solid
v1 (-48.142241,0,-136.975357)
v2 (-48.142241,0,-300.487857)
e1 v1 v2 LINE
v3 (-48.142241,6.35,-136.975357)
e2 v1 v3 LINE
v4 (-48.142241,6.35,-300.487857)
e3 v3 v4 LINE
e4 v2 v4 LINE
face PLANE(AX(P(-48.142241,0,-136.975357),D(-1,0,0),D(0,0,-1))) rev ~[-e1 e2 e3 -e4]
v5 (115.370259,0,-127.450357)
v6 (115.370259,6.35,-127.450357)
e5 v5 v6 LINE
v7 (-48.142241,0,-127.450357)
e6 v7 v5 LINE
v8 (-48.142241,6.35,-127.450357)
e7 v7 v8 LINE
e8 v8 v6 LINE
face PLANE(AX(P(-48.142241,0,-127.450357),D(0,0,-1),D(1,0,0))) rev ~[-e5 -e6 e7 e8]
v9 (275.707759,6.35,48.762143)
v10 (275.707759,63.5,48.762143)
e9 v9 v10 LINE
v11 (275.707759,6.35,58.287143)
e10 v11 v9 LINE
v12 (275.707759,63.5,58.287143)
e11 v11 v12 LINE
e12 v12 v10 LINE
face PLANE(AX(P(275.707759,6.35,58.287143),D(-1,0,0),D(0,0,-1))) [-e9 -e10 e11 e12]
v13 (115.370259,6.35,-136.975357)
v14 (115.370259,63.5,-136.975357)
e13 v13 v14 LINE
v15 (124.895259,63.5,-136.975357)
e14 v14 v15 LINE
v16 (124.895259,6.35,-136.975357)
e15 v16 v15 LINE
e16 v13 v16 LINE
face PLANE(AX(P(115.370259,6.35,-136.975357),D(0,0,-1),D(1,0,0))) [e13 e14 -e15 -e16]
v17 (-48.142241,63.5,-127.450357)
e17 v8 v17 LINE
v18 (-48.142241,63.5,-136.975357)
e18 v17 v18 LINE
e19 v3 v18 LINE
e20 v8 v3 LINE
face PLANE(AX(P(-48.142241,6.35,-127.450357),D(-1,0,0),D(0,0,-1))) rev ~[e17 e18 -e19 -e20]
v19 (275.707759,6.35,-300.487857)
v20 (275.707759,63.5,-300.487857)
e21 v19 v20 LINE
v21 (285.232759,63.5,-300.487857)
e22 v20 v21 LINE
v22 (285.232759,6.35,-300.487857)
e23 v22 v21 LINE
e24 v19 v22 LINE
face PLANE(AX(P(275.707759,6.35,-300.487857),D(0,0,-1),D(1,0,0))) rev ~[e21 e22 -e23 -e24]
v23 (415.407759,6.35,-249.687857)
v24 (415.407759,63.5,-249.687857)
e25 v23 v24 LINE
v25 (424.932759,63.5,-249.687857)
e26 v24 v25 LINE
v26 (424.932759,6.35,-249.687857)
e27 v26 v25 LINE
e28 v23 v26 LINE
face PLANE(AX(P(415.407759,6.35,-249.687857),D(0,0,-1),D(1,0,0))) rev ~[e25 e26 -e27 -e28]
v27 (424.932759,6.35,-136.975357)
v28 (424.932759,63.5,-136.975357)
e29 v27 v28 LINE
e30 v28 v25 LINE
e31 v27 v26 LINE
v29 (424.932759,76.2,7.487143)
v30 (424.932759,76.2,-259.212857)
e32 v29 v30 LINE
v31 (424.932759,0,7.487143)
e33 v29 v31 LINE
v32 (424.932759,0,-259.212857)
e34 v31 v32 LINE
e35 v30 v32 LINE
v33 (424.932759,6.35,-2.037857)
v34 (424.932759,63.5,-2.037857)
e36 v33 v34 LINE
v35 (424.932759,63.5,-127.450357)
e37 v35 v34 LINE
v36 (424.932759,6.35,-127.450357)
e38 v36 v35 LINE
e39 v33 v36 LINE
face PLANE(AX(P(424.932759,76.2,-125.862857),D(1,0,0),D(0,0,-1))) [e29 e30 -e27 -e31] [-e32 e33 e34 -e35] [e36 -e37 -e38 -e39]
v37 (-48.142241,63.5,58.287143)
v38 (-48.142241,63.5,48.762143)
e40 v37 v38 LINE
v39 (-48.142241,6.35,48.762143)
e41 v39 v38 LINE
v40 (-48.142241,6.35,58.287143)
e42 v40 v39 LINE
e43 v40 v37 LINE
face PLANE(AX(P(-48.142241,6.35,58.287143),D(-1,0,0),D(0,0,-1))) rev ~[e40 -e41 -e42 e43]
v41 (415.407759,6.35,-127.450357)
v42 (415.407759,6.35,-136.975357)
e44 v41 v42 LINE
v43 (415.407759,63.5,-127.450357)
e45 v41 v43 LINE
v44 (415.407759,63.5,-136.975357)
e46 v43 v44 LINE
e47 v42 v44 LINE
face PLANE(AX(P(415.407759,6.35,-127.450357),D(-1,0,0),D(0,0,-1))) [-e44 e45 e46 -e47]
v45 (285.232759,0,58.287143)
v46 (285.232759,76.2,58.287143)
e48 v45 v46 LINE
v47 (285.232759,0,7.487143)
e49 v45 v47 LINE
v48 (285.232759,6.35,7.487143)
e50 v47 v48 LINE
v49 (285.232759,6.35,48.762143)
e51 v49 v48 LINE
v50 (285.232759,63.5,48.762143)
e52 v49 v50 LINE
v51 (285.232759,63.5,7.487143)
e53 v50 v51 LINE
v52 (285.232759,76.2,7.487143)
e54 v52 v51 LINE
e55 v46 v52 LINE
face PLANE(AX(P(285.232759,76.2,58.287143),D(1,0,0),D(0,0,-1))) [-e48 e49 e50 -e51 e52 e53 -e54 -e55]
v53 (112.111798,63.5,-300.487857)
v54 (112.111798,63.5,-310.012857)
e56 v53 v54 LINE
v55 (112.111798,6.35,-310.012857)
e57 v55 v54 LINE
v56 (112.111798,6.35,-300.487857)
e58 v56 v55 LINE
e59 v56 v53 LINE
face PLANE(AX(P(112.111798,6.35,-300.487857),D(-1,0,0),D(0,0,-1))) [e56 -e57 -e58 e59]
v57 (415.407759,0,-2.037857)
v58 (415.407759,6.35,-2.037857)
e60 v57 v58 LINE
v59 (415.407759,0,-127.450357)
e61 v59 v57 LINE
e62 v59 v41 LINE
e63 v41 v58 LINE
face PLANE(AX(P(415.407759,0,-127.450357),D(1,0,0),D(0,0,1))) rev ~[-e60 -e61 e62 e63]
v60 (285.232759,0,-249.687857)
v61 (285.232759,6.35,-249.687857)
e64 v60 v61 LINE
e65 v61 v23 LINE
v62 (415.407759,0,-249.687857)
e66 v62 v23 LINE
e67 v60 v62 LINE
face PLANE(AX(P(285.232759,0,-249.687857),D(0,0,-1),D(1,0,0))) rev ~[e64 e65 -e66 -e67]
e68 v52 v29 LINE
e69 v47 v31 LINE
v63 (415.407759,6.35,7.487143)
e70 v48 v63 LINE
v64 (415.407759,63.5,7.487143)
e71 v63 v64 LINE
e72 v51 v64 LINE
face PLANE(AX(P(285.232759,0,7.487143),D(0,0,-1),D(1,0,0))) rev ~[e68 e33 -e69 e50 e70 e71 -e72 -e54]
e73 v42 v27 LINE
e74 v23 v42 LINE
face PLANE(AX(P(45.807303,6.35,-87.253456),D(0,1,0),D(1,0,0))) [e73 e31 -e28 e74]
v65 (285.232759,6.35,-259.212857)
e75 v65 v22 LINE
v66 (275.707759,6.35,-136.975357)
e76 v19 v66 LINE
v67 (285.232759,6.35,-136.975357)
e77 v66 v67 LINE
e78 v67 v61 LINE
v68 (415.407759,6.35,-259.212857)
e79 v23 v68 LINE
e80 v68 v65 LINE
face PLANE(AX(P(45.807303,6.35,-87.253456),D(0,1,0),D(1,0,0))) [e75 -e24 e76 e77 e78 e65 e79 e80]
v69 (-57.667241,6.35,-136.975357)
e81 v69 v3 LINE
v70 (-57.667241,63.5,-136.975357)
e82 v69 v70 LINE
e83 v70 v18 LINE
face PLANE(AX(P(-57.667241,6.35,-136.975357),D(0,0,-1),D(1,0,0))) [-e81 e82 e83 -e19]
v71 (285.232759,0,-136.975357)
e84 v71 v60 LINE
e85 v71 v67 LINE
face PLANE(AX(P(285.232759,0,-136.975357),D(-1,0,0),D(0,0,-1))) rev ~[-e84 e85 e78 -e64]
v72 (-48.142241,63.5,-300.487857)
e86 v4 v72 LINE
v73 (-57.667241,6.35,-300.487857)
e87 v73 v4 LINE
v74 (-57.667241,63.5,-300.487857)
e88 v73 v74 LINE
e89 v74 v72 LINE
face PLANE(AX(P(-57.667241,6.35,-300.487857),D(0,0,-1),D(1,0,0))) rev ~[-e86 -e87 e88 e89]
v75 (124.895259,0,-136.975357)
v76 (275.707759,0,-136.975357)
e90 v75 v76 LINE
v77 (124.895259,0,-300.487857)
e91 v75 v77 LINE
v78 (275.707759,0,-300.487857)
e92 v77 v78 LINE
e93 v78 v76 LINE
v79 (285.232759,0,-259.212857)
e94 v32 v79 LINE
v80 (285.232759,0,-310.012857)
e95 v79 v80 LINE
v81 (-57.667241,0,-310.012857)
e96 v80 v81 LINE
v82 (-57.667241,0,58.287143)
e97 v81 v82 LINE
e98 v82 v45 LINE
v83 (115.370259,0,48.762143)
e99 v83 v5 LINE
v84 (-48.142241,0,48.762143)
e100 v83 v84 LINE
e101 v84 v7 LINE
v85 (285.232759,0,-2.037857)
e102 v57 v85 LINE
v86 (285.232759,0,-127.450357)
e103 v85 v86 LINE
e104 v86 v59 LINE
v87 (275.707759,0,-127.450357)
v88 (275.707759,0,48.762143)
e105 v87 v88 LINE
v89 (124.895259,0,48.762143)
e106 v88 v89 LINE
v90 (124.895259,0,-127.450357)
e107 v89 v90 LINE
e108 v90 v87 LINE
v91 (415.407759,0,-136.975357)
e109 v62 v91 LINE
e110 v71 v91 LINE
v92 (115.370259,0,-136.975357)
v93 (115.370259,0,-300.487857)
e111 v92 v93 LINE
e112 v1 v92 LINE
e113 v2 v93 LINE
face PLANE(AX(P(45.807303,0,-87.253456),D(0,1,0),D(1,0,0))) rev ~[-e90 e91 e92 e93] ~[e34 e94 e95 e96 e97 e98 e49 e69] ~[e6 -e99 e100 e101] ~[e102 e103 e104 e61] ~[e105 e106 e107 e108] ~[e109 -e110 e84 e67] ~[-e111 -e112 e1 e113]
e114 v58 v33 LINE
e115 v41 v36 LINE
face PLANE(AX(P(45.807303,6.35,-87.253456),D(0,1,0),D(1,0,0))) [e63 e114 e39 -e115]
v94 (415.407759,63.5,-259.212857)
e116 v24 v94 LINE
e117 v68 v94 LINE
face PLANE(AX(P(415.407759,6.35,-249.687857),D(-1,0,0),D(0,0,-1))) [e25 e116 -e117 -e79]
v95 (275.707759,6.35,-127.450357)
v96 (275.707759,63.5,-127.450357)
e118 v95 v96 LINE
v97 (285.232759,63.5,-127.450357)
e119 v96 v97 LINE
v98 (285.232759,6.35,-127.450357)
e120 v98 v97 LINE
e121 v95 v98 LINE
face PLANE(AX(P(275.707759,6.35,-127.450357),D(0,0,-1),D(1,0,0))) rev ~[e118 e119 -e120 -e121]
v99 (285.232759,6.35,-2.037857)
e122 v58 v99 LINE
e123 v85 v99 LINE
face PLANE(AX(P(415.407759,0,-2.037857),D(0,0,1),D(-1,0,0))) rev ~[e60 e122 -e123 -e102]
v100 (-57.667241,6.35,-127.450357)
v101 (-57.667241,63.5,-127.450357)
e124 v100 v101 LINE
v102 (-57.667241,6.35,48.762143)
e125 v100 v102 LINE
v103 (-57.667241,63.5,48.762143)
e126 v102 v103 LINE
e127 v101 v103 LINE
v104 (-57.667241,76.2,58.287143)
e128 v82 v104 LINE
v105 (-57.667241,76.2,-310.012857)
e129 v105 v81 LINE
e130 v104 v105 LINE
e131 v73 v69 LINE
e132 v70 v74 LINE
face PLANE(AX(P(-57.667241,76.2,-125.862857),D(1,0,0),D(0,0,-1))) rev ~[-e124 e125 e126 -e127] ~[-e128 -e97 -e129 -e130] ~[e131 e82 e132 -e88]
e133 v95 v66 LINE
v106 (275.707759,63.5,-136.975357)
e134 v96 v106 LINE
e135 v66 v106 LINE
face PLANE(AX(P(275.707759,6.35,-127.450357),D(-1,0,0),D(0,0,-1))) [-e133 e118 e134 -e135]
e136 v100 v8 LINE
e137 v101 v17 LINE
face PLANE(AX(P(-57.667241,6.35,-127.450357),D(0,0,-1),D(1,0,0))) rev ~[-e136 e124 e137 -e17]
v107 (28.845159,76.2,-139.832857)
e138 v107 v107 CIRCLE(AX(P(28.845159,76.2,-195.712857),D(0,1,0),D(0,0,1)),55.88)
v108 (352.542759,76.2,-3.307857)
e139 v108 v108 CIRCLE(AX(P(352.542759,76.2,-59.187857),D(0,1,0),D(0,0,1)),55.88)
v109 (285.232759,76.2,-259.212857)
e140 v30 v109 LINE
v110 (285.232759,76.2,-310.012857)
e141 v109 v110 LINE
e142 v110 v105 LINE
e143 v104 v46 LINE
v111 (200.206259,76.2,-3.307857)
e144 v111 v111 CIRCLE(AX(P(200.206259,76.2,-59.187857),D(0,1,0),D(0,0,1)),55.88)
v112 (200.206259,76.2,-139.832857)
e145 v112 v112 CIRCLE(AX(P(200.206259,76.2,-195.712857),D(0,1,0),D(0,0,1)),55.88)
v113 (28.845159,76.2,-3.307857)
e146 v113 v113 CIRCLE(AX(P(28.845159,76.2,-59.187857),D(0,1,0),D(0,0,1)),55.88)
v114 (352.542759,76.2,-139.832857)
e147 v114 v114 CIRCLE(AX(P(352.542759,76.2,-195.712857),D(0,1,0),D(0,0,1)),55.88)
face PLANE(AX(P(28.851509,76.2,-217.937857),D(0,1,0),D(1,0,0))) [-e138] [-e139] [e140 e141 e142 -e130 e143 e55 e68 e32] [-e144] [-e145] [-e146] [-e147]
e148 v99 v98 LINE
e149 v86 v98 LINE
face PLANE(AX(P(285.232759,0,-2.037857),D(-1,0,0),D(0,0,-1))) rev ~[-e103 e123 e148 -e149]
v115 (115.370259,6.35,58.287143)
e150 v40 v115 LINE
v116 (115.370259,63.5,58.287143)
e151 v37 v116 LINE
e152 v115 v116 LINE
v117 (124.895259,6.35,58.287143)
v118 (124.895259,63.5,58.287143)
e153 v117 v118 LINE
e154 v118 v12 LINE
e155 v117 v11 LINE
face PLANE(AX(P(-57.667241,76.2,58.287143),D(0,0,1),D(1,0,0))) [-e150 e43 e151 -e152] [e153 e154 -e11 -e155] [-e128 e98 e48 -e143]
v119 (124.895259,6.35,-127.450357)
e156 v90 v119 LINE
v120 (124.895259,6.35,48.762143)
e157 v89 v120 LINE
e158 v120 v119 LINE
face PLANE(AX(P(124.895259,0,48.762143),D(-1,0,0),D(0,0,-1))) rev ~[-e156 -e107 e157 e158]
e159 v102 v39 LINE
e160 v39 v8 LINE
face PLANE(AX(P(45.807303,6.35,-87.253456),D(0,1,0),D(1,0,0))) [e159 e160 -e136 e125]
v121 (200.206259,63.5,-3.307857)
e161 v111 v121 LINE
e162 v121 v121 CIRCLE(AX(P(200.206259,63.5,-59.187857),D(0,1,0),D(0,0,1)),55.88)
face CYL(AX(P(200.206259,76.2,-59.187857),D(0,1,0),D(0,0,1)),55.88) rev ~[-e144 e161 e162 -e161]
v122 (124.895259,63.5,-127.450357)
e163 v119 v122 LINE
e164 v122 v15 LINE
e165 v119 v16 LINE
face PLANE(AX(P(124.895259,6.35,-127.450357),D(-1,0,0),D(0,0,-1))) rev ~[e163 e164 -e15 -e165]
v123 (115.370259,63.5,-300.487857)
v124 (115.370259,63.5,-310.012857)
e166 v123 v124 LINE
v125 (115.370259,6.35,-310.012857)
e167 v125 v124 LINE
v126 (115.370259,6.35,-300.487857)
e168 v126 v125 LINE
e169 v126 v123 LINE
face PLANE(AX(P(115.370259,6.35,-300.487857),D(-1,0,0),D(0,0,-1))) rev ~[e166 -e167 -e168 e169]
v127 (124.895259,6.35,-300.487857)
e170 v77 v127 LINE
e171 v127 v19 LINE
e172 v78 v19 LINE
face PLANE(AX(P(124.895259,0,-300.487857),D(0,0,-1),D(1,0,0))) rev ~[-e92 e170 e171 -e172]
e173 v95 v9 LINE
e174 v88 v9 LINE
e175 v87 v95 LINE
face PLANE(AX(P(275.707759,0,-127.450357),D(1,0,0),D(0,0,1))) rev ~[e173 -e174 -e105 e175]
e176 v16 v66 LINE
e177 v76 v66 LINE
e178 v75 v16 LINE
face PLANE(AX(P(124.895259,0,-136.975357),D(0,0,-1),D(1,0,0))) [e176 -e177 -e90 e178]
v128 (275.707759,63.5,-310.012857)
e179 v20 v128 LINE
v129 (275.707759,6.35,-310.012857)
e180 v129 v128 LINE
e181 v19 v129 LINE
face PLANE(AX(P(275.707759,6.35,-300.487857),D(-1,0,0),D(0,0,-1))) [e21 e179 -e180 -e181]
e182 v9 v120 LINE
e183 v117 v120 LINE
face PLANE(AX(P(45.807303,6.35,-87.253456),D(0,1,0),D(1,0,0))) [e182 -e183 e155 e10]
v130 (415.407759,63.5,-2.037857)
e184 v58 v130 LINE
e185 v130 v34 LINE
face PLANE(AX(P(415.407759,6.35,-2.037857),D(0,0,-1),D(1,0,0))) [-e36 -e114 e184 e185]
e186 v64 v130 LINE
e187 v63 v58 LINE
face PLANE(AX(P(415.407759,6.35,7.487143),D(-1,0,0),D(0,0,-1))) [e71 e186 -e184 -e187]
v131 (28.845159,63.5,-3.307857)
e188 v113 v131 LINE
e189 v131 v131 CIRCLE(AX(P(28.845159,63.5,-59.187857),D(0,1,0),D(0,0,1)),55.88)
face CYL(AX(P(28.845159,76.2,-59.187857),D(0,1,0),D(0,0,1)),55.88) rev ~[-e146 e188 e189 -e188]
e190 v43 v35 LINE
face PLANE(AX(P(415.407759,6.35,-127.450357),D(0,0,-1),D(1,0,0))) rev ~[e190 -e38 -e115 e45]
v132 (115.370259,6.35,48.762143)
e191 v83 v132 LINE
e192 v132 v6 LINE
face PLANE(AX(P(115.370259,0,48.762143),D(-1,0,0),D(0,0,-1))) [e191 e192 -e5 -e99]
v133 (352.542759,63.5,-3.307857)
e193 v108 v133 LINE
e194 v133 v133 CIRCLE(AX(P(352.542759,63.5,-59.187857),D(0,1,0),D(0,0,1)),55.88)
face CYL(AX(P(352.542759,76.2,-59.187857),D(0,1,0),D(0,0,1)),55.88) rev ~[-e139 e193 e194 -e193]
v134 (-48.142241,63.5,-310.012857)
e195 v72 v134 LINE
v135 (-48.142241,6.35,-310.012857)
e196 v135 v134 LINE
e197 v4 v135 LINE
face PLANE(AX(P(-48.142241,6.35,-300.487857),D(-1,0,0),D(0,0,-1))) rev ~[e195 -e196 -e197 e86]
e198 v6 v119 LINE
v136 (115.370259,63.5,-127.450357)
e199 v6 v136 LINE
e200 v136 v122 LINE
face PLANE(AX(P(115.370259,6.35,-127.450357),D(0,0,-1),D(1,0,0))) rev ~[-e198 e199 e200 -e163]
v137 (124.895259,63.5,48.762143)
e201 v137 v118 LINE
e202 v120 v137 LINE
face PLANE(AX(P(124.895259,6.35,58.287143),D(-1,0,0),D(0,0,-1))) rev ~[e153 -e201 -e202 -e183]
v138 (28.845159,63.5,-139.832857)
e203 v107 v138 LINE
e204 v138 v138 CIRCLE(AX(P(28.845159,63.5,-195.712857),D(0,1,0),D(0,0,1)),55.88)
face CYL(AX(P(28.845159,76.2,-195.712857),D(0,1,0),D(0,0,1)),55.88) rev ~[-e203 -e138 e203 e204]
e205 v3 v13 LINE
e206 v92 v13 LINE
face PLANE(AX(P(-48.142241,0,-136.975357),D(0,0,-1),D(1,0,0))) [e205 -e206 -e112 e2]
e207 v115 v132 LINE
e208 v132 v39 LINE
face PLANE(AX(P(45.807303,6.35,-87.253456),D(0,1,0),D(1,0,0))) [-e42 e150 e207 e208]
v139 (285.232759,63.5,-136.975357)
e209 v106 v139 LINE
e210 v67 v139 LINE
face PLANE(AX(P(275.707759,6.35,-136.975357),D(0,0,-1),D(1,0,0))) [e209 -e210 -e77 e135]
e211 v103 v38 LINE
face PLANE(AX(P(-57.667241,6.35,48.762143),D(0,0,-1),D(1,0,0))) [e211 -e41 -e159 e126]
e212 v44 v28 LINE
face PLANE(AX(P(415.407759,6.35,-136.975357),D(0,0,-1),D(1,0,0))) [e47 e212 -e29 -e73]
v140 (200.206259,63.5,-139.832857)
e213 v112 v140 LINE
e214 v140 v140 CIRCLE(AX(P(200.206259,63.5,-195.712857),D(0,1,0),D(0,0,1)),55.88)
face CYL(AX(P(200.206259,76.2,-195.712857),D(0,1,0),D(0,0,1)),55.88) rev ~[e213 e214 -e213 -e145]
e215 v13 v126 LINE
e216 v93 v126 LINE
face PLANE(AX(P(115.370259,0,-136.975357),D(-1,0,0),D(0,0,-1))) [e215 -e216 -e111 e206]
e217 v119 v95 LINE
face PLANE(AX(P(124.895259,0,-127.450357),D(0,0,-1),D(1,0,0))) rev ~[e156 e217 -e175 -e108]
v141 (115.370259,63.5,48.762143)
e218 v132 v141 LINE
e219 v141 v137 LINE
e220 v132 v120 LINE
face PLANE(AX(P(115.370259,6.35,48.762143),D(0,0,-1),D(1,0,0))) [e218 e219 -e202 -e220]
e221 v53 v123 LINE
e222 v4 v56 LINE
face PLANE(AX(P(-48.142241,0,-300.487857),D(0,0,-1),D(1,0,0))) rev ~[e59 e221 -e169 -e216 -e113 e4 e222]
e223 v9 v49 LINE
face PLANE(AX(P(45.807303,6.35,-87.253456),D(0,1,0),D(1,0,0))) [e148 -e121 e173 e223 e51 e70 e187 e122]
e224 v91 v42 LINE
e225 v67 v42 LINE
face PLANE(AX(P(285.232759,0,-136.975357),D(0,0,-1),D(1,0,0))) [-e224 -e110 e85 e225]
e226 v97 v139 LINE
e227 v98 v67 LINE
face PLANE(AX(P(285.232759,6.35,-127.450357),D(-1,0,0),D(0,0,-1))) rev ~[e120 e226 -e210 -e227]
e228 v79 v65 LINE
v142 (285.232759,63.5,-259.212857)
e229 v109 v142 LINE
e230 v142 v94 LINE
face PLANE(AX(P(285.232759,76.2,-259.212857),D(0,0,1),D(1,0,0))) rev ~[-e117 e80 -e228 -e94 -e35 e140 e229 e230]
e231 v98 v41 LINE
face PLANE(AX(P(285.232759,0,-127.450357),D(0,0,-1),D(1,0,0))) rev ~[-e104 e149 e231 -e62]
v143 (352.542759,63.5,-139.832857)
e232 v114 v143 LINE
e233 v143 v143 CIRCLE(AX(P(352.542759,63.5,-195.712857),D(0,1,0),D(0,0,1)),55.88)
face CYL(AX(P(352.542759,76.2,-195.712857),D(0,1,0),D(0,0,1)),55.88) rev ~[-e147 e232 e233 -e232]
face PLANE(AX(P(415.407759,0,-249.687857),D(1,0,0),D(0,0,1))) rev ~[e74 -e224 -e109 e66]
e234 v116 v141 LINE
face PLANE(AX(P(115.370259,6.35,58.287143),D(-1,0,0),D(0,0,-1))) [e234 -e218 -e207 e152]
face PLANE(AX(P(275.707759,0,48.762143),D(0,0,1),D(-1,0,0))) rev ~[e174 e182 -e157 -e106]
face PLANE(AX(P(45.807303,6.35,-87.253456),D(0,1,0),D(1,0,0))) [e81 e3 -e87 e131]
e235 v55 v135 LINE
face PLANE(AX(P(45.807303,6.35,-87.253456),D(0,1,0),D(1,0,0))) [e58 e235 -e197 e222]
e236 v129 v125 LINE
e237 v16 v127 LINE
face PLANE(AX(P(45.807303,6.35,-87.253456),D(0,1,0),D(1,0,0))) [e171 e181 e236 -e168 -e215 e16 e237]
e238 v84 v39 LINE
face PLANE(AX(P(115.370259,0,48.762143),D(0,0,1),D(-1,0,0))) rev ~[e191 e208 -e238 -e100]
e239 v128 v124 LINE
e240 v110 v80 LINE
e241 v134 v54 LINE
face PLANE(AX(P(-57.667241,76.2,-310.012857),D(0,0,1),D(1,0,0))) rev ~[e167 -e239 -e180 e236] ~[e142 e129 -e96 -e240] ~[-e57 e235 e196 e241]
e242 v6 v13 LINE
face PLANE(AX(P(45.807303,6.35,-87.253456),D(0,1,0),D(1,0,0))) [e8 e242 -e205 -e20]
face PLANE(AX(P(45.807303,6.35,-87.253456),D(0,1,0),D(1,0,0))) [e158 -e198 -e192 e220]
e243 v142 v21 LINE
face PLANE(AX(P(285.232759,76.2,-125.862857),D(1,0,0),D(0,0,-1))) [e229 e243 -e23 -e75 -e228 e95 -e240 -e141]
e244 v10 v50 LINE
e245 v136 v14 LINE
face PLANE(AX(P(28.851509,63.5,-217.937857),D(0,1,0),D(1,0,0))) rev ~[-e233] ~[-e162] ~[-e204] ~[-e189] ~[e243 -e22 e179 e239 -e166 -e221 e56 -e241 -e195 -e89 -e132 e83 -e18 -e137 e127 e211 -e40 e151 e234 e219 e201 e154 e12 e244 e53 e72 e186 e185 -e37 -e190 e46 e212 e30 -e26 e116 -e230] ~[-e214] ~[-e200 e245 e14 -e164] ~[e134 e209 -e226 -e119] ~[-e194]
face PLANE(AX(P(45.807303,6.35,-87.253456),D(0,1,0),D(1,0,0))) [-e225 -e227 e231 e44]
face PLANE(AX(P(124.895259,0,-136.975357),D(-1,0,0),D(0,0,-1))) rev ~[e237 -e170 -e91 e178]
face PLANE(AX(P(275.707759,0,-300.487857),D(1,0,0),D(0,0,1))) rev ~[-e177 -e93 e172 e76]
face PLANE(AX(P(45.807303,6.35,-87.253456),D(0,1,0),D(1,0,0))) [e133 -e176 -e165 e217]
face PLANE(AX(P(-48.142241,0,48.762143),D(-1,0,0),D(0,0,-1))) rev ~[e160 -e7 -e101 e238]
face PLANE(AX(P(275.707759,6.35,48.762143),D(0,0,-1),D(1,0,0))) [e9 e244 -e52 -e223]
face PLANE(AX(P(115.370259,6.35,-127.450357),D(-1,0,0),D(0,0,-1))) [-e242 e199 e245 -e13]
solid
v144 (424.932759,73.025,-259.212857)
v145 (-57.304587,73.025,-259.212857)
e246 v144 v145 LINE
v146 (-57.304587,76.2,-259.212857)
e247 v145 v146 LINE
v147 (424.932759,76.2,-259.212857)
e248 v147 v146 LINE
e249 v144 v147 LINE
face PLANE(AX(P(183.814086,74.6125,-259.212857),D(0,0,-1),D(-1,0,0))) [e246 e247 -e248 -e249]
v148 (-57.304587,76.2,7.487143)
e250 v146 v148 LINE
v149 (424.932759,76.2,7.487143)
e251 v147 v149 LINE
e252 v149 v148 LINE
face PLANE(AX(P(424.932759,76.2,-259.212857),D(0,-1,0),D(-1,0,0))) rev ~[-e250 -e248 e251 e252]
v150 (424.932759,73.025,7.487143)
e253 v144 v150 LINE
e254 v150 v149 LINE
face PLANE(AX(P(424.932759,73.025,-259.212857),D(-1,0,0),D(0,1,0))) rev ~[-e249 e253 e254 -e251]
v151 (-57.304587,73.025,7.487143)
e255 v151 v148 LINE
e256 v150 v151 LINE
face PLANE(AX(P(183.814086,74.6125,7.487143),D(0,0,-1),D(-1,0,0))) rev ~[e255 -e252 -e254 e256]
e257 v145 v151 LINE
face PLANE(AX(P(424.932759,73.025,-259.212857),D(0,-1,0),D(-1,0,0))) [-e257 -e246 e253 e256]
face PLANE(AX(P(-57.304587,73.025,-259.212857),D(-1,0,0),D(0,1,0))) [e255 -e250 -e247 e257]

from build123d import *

# Parameters (mm, degrees)
SKETCH1_W           = 150.8125
SKETCH1_H           = 163.5125
SKETCH1_W_2         = 130.175
SKETCH1_H_2         = 125.4125
SKETCH1_H_3         = 112.7125
SKETCH1_W_3         = 163.5125
SKETCH1_H_4         = 176.2125
BOSS_EXTRUDE1_DEPTH = 6.35
SKETCH2_W           = 9.525
SKETCH2_H           = 9.525
SKETCH2_W_2         = 3.2584612
BOSS_EXTRUDE2_DEPTH = 69.85
SKETCH3_R           = 55.88
BOSS_EXTRUDE3_DEPTH = 12.7
SKETCH4_W           = 482.237345922
SKETCH4_H           = 3.175
BOSS_EXTRUDE4_DEPTH = 266.7


with BuildPart() as part:
    # Sketch1 → Boss-Extrude1 (new body)
    with BuildSketch(Plane(origin=(0, 0, 0), x_dir=(1, 0, 0), z_dir=(0, 1, 0))):
        Polygon((285.232758897, 259.212857244), (285.232758897, 310.012857244), (-57.667241103, 310.012857244), (-57.667241103, -58.287142756), (285.232758897, -58.287142756), (285.232758897, -7.487142756), (424.932758897, -7.487142756), (424.932758897, 259.212857244), align=None)
        with Locations((200.301508897, 218.731607244)):
            Rectangle(SKETCH1_W, SKETCH1_H, mode=Mode.SUBTRACT)
        with Locations((350.320258897, 64.744107244)):
            Rectangle(SKETCH1_W_2, SKETCH1_H_2, mode=Mode.SUBTRACT)
        with Locations((350.320258897, 193.331607244)):
            Rectangle(SKETCH1_W_2, SKETCH1_H_3, mode=Mode.SUBTRACT)
        with Locations((33.614008897, 218.731607244)):
            Rectangle(SKETCH1_W_3, SKETCH1_H, mode=Mode.SUBTRACT)
        with Locations((33.614008897, 39.344107244)):
            Rectangle(SKETCH1_W_3, SKETCH1_H_4, mode=Mode.SUBTRACT)
        with Locations((200.301508897, 39.344107244)):
            Rectangle(SKETCH1_W, SKETCH1_H_4, mode=Mode.SUBTRACT)
    extrude(amount=BOSS_EXTRUDE1_DEPTH)

    # Sketch2 → Boss-Extrude2 (add)
    with BuildSketch(Plane(origin=(0, 6.35, 0), x_dir=(1, 0, 0), z_dir=(0, 1, 0))):
        with Locations((-52.904741103, 305.250357244)):
            Rectangle(SKETCH2_W, SKETCH2_H)
        with Locations((113.741028297, 305.250357244)):
            Rectangle(SKETCH2_W_2, SKETCH2_H)
        with Locations((120.132758897, 132.212857244)):
            Rectangle(SKETCH2_W, SKETCH2_H)
        with Locations((-52.904741103, 132.212857244)):
            Rectangle(SKETCH2_W, SKETCH2_H)
        with Locations((-52.904741103, -53.524642756)):
            Rectangle(SKETCH2_W, SKETCH2_H)
        with Locations((120.132758897, -53.524642756)):
            Rectangle(SKETCH2_W, SKETCH2_H)
        with Locations((280.470258897, -53.524642756)):
            Rectangle(SKETCH2_W, SKETCH2_H)
        with Locations((280.470258897, 132.212857244)):
            Rectangle(SKETCH2_W, SKETCH2_H)
        with Locations((280.470258897, 305.250357244)):
            Rectangle(SKETCH2_W, SKETCH2_H)
        with Locations((420.170258897, 254.450357244)):
            Rectangle(SKETCH2_W, SKETCH2_H)
        with Locations((420.170258897, -2.724642756)):
            Rectangle(SKETCH2_W, SKETCH2_H)
        with Locations((420.170258897, 132.212857244)):
            Rectangle(SKETCH2_W, SKETCH2_H)
    extrude(amount=BOSS_EXTRUDE2_DEPTH)

    # Sketch3 → Boss-Extrude3 (add)
    with BuildSketch(Plane(origin=(0, 76.2, 0), x_dir=(1, 0, 0), z_dir=(0, 1, 0))):
        Polygon((115.370258897, -58.287142756), (115.370258897, -48.762142756), (124.895258897, -48.762142756), (124.895258897, -58.287142756), (285.232758897, -58.287142756), (285.232758897, -7.487142756), (424.932758897, -7.487142756), (424.932758897, 259.212857244), (285.232758897, 259.212857244), (285.232758897, 310.012857244), (-57.667241103, 310.012857244), (-57.667241103, -58.287142756), align=None)
        with Locations((28.845158897, 59.187857244)):
            Circle(SKETCH3_R, mode=Mode.SUBTRACT)
        with Locations((28.845158897, 195.712857244)):
            Circle(SKETCH3_R, mode=Mode.SUBTRACT)
        with Locations((200.206258897, 59.187857244)):
            Circle(SKETCH3_R, mode=Mode.SUBTRACT)
        with Locations((200.206258897, 195.712857244)):
            Circle(SKETCH3_R, mode=Mode.SUBTRACT)
        with Locations((352.542758897, 59.187857244)):
            Circle(SKETCH3_R, mode=Mode.SUBTRACT)
        with Locations((352.542758897, 195.712857244)):
            Circle(SKETCH3_R, mode=Mode.SUBTRACT)
    extrude(amount=-BOSS_EXTRUDE3_DEPTH)


with BuildPart() as body_2:
    # Sketch4 → Boss-Extrude4 (new body)
    with BuildSketch(Plane(origin=(0, 0, -259.212857244), x_dir=(-1, 0, 0), z_dir=(0, 0, -1))):
        with Locations((-183.814085936, 74.6125)):
            Rectangle(SKETCH4_W, SKETCH4_H)
    extrude(amount=-BOSS_EXTRUDE4_DEPTH)


solid = Compound([part.part, body_2.part])
